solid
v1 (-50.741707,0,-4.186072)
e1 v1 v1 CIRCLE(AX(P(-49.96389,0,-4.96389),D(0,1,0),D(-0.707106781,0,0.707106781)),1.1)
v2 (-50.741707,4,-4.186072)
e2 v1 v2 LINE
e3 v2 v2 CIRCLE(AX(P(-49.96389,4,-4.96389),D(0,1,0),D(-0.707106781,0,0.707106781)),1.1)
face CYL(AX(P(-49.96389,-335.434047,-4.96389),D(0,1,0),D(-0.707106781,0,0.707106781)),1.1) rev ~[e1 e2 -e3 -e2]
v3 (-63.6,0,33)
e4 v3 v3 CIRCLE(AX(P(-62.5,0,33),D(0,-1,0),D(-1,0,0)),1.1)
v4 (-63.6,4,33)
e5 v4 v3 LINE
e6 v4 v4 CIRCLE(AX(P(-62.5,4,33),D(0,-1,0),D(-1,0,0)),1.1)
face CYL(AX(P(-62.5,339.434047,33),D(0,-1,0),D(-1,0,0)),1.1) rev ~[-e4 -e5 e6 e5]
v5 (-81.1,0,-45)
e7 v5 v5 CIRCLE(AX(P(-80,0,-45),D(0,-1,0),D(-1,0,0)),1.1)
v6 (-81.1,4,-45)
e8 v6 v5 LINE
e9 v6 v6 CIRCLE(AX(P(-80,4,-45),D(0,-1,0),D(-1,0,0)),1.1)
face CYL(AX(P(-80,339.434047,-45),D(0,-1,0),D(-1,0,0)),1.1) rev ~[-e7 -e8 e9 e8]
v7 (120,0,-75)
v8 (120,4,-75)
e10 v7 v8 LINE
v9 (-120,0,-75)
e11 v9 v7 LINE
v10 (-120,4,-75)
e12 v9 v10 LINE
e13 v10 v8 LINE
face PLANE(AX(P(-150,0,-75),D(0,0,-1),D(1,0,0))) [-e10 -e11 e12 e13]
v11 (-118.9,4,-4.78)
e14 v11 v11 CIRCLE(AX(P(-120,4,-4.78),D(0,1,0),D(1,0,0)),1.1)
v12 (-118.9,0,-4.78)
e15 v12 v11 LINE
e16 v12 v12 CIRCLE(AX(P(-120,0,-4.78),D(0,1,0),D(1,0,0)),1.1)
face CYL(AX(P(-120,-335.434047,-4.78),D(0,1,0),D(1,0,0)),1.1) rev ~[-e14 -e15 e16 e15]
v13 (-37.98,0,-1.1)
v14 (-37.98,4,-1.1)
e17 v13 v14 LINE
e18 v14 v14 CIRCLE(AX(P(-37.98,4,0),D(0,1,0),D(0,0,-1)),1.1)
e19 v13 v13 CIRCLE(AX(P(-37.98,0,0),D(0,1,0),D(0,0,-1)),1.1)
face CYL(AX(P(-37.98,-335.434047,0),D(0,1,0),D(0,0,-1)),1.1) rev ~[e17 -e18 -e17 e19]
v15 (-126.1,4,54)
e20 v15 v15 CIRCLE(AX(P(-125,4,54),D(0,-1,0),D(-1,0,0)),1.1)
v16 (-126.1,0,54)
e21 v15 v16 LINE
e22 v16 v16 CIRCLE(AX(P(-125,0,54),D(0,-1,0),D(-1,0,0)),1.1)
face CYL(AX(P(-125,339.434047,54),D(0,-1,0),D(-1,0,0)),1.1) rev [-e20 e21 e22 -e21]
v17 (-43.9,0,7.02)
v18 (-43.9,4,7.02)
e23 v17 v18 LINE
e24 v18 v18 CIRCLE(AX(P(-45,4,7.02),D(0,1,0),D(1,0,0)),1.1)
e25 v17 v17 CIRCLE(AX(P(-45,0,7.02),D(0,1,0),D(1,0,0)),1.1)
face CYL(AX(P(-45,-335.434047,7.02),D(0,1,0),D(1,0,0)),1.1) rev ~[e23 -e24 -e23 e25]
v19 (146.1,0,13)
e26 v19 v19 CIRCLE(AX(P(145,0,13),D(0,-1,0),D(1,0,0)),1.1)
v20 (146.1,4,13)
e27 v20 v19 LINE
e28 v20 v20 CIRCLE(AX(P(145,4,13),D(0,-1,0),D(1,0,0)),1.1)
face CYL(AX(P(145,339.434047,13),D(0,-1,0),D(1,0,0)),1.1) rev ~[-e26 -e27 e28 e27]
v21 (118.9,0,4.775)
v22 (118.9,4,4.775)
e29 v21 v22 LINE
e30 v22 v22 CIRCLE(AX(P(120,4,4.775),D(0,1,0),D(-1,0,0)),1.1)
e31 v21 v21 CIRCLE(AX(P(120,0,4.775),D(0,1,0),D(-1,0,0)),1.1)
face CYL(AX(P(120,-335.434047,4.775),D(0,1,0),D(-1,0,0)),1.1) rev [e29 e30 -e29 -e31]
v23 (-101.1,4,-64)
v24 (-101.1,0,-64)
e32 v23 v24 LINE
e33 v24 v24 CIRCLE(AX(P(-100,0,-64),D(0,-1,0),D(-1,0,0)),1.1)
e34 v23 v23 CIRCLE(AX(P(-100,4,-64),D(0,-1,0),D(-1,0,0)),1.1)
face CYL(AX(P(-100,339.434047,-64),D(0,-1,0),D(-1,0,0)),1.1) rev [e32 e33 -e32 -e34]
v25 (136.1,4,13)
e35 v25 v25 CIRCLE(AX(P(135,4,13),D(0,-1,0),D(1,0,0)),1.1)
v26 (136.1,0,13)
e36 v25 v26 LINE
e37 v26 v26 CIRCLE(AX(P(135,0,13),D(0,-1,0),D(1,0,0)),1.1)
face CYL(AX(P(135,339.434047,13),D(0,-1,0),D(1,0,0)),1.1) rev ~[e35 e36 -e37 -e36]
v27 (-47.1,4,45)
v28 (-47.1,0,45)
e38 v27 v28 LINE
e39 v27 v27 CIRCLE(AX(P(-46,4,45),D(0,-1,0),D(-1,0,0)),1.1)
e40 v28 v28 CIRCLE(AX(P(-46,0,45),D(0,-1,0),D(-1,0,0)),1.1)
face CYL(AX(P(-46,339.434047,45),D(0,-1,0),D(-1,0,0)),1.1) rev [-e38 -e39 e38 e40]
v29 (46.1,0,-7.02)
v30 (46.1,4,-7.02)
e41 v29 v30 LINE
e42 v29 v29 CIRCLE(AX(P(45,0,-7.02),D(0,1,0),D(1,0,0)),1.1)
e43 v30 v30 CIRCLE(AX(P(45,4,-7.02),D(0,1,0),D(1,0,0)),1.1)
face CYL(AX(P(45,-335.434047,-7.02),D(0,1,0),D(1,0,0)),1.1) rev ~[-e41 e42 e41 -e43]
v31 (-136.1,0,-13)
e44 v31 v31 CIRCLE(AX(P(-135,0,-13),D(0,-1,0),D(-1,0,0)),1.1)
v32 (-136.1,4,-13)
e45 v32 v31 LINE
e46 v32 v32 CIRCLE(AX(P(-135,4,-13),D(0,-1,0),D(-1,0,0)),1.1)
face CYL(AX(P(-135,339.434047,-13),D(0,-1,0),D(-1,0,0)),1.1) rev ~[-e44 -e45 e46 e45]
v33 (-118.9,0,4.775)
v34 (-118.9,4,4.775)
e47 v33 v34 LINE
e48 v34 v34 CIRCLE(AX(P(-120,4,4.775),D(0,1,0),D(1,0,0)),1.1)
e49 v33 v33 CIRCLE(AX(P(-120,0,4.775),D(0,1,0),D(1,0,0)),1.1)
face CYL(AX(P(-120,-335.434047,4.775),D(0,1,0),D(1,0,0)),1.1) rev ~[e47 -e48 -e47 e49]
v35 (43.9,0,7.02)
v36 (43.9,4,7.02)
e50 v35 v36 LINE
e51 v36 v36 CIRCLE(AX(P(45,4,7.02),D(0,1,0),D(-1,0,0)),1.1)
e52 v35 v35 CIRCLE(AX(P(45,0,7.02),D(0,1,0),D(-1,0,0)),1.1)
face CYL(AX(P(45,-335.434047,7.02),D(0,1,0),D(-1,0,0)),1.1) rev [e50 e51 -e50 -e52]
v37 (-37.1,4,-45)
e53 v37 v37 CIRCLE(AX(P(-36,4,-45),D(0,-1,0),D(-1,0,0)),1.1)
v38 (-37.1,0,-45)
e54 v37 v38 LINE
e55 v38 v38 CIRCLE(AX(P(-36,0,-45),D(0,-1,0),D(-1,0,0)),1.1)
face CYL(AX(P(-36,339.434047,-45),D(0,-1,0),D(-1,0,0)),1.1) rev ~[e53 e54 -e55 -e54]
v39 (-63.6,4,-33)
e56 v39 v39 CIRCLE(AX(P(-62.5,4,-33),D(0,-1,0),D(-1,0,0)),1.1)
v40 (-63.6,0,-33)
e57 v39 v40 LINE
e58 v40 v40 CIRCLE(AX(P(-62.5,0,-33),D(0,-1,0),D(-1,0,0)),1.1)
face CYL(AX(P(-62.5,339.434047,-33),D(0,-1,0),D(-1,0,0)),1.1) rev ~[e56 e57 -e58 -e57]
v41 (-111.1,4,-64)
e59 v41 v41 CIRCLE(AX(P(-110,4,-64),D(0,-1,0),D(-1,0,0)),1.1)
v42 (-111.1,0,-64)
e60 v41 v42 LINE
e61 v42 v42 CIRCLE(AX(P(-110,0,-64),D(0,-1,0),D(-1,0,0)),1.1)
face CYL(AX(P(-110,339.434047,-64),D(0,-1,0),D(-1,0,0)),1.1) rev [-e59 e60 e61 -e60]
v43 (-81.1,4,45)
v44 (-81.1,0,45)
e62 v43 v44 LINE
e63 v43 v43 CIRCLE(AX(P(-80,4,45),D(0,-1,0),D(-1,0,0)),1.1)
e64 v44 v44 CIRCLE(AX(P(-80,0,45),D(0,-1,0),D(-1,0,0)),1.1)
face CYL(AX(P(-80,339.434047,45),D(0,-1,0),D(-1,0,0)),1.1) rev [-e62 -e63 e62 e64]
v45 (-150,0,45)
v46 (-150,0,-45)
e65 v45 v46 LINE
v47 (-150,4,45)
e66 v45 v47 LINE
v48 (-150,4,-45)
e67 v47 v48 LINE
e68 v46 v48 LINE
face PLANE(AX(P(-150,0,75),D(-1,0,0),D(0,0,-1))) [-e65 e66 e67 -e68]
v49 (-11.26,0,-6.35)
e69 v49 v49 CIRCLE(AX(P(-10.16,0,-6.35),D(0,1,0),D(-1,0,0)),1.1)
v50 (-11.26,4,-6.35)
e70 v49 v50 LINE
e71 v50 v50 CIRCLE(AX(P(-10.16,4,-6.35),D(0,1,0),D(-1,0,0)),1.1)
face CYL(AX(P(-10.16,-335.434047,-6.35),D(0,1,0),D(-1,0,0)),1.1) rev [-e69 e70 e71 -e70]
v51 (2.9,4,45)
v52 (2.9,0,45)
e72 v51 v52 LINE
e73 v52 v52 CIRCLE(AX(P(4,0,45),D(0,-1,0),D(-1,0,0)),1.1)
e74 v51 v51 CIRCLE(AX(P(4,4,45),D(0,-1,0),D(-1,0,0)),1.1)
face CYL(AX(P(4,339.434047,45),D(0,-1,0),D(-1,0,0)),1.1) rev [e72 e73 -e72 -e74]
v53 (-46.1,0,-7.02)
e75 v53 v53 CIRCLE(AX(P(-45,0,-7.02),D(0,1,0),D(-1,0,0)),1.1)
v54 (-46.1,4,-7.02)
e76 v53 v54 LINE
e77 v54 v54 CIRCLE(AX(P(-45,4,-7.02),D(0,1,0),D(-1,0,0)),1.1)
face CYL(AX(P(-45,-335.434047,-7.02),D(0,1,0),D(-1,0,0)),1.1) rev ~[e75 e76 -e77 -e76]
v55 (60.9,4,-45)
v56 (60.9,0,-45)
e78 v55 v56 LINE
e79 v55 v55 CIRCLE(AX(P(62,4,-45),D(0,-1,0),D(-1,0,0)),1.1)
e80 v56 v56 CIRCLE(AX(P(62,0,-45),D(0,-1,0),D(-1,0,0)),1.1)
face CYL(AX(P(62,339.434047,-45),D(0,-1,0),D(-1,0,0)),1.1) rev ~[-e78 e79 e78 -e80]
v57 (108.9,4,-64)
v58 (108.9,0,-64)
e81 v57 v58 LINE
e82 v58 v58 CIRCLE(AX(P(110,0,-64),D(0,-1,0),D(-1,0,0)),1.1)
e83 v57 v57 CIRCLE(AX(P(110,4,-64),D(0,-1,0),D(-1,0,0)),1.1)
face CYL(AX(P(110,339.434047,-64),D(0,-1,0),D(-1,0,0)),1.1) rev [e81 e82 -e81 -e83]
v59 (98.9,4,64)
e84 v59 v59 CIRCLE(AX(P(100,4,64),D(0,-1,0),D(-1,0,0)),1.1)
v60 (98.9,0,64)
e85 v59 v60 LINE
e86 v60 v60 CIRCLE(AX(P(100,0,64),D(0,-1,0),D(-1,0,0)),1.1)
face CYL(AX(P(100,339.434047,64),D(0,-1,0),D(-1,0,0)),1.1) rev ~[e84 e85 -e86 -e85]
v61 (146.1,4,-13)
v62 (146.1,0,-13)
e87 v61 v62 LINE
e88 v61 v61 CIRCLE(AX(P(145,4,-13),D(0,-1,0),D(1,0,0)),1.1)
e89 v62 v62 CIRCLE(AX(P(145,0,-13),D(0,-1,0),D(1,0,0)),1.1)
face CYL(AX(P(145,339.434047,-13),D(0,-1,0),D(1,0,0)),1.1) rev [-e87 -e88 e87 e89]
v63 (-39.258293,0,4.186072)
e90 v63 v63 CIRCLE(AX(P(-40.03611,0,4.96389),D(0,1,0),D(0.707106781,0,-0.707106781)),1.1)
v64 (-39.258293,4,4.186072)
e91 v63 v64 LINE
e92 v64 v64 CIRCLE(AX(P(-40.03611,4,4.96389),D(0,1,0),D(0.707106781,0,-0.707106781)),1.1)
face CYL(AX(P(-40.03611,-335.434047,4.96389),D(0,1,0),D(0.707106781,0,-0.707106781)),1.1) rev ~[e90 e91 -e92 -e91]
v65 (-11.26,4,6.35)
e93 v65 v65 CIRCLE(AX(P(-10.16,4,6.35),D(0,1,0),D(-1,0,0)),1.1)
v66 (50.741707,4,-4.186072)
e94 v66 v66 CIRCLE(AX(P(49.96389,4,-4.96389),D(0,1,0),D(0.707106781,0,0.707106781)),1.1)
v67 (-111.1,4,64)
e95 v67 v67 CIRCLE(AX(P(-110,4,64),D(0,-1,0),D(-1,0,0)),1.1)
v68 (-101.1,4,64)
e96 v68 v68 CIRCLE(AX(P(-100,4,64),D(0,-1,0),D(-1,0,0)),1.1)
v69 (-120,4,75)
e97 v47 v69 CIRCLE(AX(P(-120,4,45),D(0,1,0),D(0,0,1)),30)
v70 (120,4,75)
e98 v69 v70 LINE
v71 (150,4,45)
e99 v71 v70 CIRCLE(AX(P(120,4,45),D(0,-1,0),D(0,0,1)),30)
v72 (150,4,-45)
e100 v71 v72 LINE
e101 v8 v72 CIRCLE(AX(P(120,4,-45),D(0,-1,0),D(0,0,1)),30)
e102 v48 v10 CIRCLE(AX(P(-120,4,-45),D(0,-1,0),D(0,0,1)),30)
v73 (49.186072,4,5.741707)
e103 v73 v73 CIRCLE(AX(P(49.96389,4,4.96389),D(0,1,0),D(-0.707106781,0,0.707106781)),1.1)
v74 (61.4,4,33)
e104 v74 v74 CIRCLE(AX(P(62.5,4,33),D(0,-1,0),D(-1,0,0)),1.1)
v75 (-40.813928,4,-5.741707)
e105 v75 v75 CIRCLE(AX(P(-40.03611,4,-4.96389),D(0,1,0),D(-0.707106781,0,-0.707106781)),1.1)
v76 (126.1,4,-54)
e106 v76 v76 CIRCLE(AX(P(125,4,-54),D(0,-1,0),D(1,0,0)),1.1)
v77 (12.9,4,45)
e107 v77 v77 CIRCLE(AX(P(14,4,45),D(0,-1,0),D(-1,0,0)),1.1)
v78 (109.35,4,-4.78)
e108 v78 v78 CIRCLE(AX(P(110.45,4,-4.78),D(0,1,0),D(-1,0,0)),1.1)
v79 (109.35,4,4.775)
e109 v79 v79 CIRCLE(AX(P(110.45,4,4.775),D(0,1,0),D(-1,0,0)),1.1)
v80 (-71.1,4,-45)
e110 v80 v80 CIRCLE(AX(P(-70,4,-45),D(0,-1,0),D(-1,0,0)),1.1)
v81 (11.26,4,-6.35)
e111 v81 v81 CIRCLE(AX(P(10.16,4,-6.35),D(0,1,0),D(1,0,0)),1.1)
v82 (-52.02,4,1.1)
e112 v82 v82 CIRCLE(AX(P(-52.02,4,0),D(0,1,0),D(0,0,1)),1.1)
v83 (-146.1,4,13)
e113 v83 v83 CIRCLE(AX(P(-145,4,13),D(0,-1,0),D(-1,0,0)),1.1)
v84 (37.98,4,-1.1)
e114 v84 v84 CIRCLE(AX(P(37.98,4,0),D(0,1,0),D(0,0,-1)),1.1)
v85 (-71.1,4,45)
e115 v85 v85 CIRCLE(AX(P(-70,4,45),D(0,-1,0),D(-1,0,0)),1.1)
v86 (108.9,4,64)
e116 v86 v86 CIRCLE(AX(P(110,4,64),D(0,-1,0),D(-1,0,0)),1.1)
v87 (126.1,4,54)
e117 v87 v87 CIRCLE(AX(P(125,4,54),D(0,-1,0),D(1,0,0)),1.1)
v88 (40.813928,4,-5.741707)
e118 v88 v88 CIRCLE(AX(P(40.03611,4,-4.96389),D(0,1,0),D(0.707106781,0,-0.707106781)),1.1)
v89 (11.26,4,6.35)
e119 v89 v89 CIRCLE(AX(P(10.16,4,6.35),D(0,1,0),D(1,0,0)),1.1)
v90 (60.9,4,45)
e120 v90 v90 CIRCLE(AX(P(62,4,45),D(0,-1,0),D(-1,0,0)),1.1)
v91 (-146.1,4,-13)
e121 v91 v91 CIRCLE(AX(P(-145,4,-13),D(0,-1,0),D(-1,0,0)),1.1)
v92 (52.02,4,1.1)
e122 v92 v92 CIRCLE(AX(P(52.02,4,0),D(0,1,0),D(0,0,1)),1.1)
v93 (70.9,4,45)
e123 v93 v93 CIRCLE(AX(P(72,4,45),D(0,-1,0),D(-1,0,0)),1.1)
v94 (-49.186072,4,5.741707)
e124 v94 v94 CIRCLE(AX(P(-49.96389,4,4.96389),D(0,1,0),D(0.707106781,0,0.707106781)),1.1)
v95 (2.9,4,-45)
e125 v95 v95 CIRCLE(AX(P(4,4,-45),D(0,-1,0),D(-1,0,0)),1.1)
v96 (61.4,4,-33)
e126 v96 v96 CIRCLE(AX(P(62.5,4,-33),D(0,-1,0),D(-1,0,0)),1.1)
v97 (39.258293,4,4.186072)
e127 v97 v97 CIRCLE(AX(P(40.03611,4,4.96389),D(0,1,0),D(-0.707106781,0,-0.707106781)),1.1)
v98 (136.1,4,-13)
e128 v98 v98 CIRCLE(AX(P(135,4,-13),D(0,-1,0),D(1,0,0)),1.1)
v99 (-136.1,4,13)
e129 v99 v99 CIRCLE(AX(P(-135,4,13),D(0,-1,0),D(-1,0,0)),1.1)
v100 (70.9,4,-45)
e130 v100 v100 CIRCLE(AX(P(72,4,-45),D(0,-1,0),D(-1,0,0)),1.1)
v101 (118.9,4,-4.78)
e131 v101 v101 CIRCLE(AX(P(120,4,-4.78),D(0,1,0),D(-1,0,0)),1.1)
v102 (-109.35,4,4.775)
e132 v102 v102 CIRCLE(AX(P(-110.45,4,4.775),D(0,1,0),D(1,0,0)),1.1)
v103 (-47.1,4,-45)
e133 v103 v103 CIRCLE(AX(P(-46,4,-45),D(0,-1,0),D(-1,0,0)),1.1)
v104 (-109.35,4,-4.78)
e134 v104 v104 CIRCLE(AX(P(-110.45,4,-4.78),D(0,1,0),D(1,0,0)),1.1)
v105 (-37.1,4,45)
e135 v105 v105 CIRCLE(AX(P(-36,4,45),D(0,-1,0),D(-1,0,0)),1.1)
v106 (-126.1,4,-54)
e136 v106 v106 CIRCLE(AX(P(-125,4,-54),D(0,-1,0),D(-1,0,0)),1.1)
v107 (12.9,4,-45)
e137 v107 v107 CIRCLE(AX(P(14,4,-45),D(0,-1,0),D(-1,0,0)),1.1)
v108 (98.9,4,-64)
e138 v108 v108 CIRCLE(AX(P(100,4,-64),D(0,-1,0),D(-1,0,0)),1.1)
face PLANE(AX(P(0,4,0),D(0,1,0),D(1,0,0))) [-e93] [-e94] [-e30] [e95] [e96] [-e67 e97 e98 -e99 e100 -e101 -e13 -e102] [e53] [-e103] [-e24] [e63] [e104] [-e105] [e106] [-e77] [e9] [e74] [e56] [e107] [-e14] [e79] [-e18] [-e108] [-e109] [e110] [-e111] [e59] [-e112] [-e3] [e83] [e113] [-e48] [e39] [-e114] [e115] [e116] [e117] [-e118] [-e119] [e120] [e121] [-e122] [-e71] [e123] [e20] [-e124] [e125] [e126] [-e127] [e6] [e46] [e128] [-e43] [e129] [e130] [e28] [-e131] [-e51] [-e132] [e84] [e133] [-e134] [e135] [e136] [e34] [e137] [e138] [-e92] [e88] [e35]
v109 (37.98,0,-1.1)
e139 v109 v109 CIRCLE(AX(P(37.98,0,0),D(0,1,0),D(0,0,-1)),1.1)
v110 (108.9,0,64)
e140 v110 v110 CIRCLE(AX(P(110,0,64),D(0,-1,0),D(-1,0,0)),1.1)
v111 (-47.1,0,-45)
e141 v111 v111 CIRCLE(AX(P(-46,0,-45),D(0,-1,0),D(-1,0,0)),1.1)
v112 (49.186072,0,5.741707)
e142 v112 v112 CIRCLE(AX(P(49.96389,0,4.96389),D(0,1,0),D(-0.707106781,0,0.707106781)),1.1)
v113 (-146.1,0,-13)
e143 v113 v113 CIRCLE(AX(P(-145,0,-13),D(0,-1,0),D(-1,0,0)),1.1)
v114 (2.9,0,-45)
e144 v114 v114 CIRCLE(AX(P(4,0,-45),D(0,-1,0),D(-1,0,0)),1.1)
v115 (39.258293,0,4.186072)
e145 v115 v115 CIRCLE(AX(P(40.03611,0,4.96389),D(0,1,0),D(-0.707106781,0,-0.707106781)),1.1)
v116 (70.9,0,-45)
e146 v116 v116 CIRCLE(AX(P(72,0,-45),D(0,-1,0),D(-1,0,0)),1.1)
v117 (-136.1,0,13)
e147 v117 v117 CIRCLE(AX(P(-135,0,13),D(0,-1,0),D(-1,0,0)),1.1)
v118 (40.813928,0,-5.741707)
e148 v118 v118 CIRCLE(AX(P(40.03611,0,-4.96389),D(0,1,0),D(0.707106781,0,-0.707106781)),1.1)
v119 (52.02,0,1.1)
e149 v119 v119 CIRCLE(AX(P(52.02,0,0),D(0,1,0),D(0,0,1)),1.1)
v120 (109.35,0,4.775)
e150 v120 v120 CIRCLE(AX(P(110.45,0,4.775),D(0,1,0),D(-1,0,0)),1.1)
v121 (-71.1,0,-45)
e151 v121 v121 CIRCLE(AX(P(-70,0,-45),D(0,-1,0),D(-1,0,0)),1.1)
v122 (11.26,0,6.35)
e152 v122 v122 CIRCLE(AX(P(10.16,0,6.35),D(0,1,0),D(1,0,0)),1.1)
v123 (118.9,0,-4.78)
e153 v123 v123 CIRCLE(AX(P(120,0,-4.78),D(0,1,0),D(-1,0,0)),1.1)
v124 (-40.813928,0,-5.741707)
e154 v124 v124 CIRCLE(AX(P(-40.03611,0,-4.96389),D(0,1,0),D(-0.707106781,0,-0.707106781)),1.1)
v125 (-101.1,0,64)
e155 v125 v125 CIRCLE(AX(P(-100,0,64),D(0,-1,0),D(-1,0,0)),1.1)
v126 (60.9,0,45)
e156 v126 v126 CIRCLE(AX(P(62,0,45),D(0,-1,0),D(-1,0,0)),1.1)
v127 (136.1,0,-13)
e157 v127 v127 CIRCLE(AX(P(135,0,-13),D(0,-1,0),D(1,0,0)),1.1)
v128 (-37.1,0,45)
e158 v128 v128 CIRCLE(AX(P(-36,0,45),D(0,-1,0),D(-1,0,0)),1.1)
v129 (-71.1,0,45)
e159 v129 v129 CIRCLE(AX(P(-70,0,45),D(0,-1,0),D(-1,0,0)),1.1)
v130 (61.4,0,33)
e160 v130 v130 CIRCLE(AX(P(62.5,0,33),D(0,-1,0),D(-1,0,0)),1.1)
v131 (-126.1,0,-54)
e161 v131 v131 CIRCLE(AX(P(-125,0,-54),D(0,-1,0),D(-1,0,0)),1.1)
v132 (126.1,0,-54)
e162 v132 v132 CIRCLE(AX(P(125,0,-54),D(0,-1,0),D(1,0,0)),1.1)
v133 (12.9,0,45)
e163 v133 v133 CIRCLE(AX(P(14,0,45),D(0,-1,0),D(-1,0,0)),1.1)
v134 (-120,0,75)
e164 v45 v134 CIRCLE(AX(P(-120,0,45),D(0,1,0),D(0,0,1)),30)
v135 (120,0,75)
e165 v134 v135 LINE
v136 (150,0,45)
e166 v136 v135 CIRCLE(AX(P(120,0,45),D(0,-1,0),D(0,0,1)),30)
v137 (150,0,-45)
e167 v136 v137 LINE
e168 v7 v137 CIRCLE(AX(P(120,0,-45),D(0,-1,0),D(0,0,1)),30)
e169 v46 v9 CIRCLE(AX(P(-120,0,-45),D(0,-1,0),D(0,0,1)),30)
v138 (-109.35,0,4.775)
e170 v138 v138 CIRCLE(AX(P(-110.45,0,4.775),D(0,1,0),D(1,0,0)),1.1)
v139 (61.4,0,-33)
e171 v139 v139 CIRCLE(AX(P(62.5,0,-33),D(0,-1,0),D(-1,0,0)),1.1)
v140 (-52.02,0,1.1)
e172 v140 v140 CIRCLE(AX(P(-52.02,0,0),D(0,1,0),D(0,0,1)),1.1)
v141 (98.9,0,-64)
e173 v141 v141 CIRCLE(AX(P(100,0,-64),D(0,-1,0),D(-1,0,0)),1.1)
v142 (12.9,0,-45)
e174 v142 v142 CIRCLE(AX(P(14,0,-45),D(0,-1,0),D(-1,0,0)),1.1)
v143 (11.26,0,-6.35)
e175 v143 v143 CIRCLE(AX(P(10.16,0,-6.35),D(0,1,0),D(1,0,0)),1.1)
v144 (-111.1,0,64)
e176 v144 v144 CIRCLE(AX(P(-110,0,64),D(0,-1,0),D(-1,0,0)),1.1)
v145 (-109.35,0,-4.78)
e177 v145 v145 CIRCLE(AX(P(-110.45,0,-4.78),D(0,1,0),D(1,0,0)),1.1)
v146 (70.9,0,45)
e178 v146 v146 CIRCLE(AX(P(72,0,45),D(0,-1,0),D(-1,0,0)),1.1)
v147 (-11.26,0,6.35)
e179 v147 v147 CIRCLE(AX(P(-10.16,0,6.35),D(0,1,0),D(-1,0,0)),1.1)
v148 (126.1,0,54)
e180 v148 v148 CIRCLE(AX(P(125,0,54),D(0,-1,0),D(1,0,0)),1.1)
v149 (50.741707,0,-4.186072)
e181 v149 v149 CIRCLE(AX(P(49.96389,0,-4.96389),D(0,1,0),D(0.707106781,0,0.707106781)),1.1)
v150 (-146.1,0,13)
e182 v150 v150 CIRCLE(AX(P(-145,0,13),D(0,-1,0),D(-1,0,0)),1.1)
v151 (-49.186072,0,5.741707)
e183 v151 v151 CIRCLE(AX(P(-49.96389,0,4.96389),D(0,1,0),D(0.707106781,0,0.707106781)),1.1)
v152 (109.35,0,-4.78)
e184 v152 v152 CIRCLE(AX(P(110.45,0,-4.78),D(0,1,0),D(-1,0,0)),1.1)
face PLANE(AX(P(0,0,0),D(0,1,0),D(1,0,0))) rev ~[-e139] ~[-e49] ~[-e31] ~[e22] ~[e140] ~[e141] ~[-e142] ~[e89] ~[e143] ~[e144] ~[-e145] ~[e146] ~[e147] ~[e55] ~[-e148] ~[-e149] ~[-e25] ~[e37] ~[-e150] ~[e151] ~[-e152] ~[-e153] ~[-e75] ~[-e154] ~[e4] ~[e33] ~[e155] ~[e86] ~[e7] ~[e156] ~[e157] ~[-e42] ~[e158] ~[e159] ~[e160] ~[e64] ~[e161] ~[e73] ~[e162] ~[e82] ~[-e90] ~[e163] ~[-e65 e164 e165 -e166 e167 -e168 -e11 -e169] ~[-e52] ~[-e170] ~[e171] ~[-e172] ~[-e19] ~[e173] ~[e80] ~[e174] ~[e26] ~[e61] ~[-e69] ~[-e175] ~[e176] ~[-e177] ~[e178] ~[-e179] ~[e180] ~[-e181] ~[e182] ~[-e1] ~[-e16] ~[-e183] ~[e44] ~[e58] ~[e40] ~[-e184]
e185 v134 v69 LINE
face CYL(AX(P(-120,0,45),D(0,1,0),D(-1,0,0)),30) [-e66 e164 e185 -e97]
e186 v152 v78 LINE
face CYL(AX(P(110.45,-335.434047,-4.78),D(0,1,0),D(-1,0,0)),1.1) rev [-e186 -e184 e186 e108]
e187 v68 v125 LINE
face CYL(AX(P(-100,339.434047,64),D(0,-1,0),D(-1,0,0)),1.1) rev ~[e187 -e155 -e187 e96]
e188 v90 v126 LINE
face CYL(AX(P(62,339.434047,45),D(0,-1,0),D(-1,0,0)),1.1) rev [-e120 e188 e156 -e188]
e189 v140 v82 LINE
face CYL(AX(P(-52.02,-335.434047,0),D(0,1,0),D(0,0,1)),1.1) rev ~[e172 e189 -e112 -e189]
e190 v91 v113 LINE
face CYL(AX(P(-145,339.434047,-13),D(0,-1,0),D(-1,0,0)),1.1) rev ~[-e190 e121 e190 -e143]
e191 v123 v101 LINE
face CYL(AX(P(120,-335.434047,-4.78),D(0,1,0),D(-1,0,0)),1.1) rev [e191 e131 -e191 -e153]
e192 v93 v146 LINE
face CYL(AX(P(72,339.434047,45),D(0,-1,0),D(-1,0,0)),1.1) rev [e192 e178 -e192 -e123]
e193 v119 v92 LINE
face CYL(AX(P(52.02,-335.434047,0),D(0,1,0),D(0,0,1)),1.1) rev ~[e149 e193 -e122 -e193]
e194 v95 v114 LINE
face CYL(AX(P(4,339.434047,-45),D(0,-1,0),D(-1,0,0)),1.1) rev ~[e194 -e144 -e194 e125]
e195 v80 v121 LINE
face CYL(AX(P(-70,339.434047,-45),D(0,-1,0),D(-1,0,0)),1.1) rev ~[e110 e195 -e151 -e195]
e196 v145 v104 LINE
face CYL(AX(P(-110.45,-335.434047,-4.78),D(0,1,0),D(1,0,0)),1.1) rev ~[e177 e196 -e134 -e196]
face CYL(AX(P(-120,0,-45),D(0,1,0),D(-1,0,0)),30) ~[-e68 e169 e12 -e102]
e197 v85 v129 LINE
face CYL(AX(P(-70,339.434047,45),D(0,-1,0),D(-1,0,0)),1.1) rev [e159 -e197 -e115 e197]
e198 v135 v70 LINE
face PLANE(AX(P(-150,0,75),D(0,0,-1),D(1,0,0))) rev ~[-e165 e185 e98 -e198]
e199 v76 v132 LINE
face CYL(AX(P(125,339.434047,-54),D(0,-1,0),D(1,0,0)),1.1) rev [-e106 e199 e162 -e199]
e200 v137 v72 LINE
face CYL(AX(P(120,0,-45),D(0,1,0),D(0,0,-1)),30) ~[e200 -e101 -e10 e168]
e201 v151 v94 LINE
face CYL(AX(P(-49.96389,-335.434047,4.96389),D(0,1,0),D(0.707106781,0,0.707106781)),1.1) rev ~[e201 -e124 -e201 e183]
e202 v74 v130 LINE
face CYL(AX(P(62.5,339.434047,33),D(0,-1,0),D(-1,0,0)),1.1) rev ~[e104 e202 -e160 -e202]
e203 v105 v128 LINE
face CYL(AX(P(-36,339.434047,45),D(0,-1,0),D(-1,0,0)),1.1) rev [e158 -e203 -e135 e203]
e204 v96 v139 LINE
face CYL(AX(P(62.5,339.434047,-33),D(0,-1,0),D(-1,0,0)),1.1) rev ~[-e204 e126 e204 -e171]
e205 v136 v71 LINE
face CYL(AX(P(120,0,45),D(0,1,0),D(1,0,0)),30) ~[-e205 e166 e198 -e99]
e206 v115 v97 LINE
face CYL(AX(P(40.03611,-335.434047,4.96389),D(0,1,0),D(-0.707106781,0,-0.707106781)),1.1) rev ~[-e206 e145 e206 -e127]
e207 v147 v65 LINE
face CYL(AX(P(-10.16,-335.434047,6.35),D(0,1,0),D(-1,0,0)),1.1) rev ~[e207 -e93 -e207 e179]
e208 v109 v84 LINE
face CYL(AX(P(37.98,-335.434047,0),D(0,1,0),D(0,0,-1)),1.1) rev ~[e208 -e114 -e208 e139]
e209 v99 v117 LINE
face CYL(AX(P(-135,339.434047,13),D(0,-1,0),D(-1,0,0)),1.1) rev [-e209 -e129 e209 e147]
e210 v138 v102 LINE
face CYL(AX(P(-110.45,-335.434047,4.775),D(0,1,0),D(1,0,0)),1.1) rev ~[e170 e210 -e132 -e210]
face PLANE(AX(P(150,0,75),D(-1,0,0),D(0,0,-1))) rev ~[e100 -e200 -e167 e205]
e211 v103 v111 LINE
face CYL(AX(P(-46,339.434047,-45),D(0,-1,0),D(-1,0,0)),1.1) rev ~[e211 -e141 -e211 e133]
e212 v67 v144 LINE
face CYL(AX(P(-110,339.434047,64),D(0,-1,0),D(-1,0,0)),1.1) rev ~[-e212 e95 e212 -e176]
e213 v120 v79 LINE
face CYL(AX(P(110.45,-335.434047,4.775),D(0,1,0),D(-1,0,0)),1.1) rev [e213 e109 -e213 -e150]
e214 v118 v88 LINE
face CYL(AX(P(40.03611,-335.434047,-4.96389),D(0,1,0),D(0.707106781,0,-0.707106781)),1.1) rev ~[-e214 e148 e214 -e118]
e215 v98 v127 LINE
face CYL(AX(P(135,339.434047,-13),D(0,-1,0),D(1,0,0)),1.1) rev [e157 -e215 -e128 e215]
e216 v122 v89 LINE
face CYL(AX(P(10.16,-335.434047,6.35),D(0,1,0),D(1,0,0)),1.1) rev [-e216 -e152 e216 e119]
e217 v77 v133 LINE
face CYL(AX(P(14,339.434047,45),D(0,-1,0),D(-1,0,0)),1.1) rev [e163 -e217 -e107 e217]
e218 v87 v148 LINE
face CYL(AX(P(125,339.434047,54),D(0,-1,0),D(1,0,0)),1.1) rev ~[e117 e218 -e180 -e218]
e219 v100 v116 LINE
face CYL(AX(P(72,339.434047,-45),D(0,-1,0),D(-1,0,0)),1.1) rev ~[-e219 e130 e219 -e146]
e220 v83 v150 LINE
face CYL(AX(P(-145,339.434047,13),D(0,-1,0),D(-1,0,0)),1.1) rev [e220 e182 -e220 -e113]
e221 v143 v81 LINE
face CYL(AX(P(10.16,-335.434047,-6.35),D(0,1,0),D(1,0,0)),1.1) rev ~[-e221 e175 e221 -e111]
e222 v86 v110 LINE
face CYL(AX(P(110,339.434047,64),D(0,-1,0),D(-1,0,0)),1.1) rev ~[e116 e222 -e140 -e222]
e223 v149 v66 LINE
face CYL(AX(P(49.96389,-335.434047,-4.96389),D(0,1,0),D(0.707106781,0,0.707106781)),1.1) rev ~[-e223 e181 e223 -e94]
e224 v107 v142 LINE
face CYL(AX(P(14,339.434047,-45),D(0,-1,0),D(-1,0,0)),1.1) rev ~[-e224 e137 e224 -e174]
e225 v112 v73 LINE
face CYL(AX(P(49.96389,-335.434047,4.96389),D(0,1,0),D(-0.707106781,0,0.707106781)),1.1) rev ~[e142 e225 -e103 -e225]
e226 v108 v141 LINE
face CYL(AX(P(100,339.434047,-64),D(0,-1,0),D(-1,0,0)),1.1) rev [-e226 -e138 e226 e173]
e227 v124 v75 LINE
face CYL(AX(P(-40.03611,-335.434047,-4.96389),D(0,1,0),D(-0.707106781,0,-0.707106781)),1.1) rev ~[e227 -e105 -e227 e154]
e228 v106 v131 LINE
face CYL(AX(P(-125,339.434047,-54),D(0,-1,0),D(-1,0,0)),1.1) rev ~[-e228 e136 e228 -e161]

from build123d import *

# Parameters (mm, degrees)
SKETCH_1_W                            = 300
SKETCH_1_H                            = 150
EXTRUDE_1_DEPTH                       = 4
FILLET_4_R                            = 30
FILLET_5_R                            = 30
FILLET_6_R                            = 30
FILLET_7_R                            = 30
HOLE_WIZARD_2_2_2_2_1_D               = 2.2
PATTERN_CIRCULAR_1_COUNT              = 8
MIRROR_1_COPY_1_D                     = 2.2
MIRROR_1_COPY_2_D                     = 2.2
MIRROR_1_COPY_3_D                     = 2.2
MIRROR_1_COPY_4_D                     = 2.2
MIRROR_1_COPY_5_D                     = 2.2
MIRROR_1_COPY_6_D                     = 2.2
MIRROR_1_COPY_7_D                     = 2.2
HOLE_WIZARD_2_2_2_2_2_D               = 2.2
HOLE_WIZARD_2_2_2_2_4_D               = 2.2
F_2_2_2_2_DIAMETER_HOLE1_D            = 2.2
MIRROR_5_AT_THE_SECOND_PLANE_COPY_1_D = 2.2
HOLE_WIZARD_2_2_2_2_6_D               = 2.2
F_2_2_2_2_DIAMETER_HOLE2_D            = 2.2
MIRROR_6_AT_THE_SECOND_PLANE_COPY_1_D = 2.2
F_2_2_2_2_DIAMETER_HOLE3_D            = 2.2
F_2_2_2_2_DIAMETER_HOLE4_D            = 2.2
MIRROR_8_AT_THE_SECOND_PLANE_COPY_1_D = 2.2


with BuildPart() as part:
    # 草图1 → 凸台-拉伸1 (new body)
    with BuildSketch(Plane(origin=(0, 0, 0), x_dir=(1, 0, 0), z_dir=(0, 1, 0))):
        Rectangle(SKETCH_1_W, SKETCH_1_H)
    extrude(amount=EXTRUDE_1_DEPTH)

    # 圆角4
    fillet_4_edges = [part.edges().sort_by_distance(p)[0] for p in [
        (-150, 2, 75),
    ]]
    fillet(fillet_4_edges, radius=FILLET_4_R)

    # 圆角5
    fillet_5_edges = [part.edges().sort_by_distance(p)[0] for p in [
        (-150, 2, -75),
    ]]
    fillet(fillet_5_edges, radius=FILLET_5_R)

    # 圆角6
    fillet_6_edges = [part.edges().sort_by_distance(p)[0] for p in [
        (150, 2, -75),
    ]]
    fillet(fillet_6_edges, radius=FILLET_6_R)

    # 圆角7
    fillet_7_edges = [part.edges().sort_by_distance(p)[0] for p in [
        (150, 2, 75),
    ]]
    fillet(fillet_7_edges, radius=FILLET_7_R)

    # Ø2.2 (2.2) 直径孔1 (through all)
    with Locations(Plane(origin=(0, 0, 0), x_dir=(-1, 0, 0), z_dir=(0, -1, 0))):
        with Locations((45, -7.02)):
            hole_wizard_2_2_2_2_1 = Hole(HOLE_WIZARD_2_2_2_2_1_D / 2)

    # 阵列(圆周)1: Ø2.2 (2.2) 直径孔1 ×8 about axis
    pattern_circular_1_axis = Axis((-45, 0, 0), (0, 1, 0))
    for i in range(1, PATTERN_CIRCULAR_1_COUNT):
        add(hole_wizard_2_2_2_2_1.rotate(pattern_circular_1_axis, i * 360 / PATTERN_CIRCULAR_1_COUNT), mode=Mode.SUBTRACT)

    # 镜向1: Ø2.2 (2.2) 直径孔1 across plane
    add(hole_wizard_2_2_2_2_1.mirror(Plane(origin=(0, 0, 0), x_dir=(0, 0, 1), z_dir=(1, 0, 0))), mode=Mode.SUBTRACT)

    # 镜向1 copy 1 (through all)
    with Locations(Plane(origin=(13.180194847, 0, -31.819805153), x_dir=(0.7071067811865476, 0, 0.7071067811865475), z_dir=(0, -1, 0))):
        with Locations((45, 7.02)):
            Hole(MIRROR_1_COPY_1_D / 2)

    # 镜向1 copy 2 (through all)
    with Locations(Plane(origin=(45, 0, -45), x_dir=(0, 0, 1), z_dir=(0, -1, 0))):
        with Locations((45, 7.02)):
            Hole(MIRROR_1_COPY_2_D / 2)

    # 镜向1 copy 3 (through all)
    with Locations(Plane(origin=(76.819805153, 0, -31.819805153), x_dir=(-0.7071067811865475, 0, 0.7071067811865476), z_dir=(0, -1, 0))):
        with Locations((45, 7.02)):
            Hole(MIRROR_1_COPY_3_D / 2)

    # 镜向1 copy 4 (through all)
    with Locations(Plane(origin=(90, 0, 0), x_dir=(-1, 0, 0), z_dir=(0, -1, 0))):
        with Locations((45, 7.02)):
            Hole(MIRROR_1_COPY_4_D / 2)

    # 镜向1 copy 5 (through all)
    with Locations(Plane(origin=(76.819805153, 0, 31.819805153), x_dir=(-0.7071067811865477, 0, -0.7071067811865475), z_dir=(0, -1, 0))):
        with Locations((45, 7.02)):
            Hole(MIRROR_1_COPY_5_D / 2)

    # 镜向1 copy 6 (through all)
    with Locations(Plane(origin=(45, 0, 45), x_dir=(0, 0, -1), z_dir=(0, -1, 0))):
        with Locations((45, 7.02)):
            Hole(MIRROR_1_COPY_6_D / 2)

    # 镜向1 copy 7 (through all)
    with Locations(Plane(origin=(13.180194847, 0, 31.819805153), x_dir=(0.7071067811865474, 0, -0.7071067811865477), z_dir=(0, -1, 0))):
        with Locations((45, 7.02)):
            Hole(MIRROR_1_COPY_7_D / 2)

    # Ø2.2 (2.2) 直径孔2 (through all)
    with Locations(Plane(origin=(0, 0, 0), x_dir=(-1, 0, 0), z_dir=(0, -1, 0))):
        with Locations((120, 4.78), (120, -4.775), (110.45, -4.775), (110.45, 4.78)):
            hole_wizard_2_2_2_2_2 = Hole(HOLE_WIZARD_2_2_2_2_2_D / 2)

    # 镜向2: Ø2.2 (2.2) 直径孔2 across plane
    add(hole_wizard_2_2_2_2_2.mirror(Plane(origin=(0, 0, 0), x_dir=(0, 0, 1), z_dir=(1, 0, 0))), mode=Mode.SUBTRACT)

    # Ø2.2 (2.2) 直径孔4 (through all)
    with Locations(Plane(origin=(0, 4, 0), x_dir=(1, 0, 0), z_dir=(0, 1, 0))):
        with Locations((100, -64), (110, -64), (-100, -64), (-110, -64)):
            hole_wizard_2_2_2_2_4 = Hole(HOLE_WIZARD_2_2_2_2_4_D / 2)

    # 镜向4: Ø2.2 (2.2) 直径孔4 across plane
    add(hole_wizard_2_2_2_2_4.mirror(Plane.XY), mode=Mode.SUBTRACT)

    # Ø2.2 (2.2) Diameter Hole1 (through all)
    with Locations(Plane(origin=(0, 4, 0), x_dir=(1, 0, 0), z_dir=(0, 1, 0))):
        with Locations((-125, 54)):
            f_2_2_2_2_diameter_hole1 = Hole(F_2_2_2_2_DIAMETER_HOLE1_D / 2)

    # 镜向5: Ø2.2 (2.2) Diameter Hole1 across plane
    add(f_2_2_2_2_diameter_hole1.mirror(Plane(origin=(0, 0, 0), x_dir=(0, 0, 1), z_dir=(1, 0, 0))), mode=Mode.SUBTRACT)

    # 镜向5 at the second plane: Ø2.2 (2.2) Diameter Hole1 across plane
    add(f_2_2_2_2_diameter_hole1.mirror(Plane.XY), mode=Mode.SUBTRACT)

    # 镜向5 at the second plane copy 1 (through all)
    with Locations(Plane(origin=(0, 4, 0), x_dir=(-1, 0, 0), z_dir=(0, 1, 0))):
        with Locations((-125, 54)):
            Hole(MIRROR_5_AT_THE_SECOND_PLANE_COPY_1_D / 2)

    # Ø2.2 (2.2) 直径孔6 (through all)
    with Locations(Plane(origin=(0, 4, 0), x_dir=(1, 0, 0), z_dir=(0, 1, 0))):
        with Locations((-62.5, 33), (-62.5, -33), (62.5, -33), (62.5, 33)):
            Hole(HOLE_WIZARD_2_2_2_2_6_D / 2)

    # Ø2.2 (2.2) Diameter Hole2 (through all)
    with Locations(Plane(origin=(0, 4, 0), x_dir=(1, 0, 0), z_dir=(0, 1, 0))):
        with Locations((-145, 13), (-135, 13)):
            f_2_2_2_2_diameter_hole2 = Hole(F_2_2_2_2_DIAMETER_HOLE2_D / 2)

    # 镜向6: Ø2.2 (2.2) Diameter Hole2 across plane
    add(f_2_2_2_2_diameter_hole2.mirror(Plane(origin=(0, 0, 0), x_dir=(0, 0, 1), z_dir=(1, 0, 0))), mode=Mode.SUBTRACT)

    # 镜向6 at the second plane: Ø2.2 (2.2) Diameter Hole2 across plane
    add(f_2_2_2_2_diameter_hole2.mirror(Plane.XY), mode=Mode.SUBTRACT)

    # 镜向6 at the second plane copy 1 (through all)
    with Locations(Plane(origin=(0, 4, 0), x_dir=(-1, 0, 0), z_dir=(0, 1, 0))):
        with Locations((-145, 13), (-135, 13)):
            Hole(MIRROR_6_AT_THE_SECOND_PLANE_COPY_1_D / 2)

    # Ø2.2 (2.2) Diameter Hole3 (through all)
    with Locations(Plane(origin=(0, 4, 0), x_dir=(1, 0, 0), z_dir=(0, 1, 0))):
        with Locations((-80, 45), (-70, 45), (-46, 45), (-36, 45), (4, 45), (14, 45), (62, 45), (72, 45)):
            f_2_2_2_2_diameter_hole3 = Hole(F_2_2_2_2_DIAMETER_HOLE3_D / 2)

    # 镜向7: Ø2.2 (2.2) Diameter Hole3 across plane
    add(f_2_2_2_2_diameter_hole3.mirror(Plane.XY), mode=Mode.SUBTRACT)

    # Ø2.2 (2.2) Diameter Hole4 (through all)
    with Locations(Plane.XZ):
        with Locations((-10.16, 6.35)):
            f_2_2_2_2_diameter_hole4 = Hole(F_2_2_2_2_DIAMETER_HOLE4_D / 2)

    # 镜向8: Ø2.2 (2.2) Diameter Hole4 across plane
    add(f_2_2_2_2_diameter_hole4.mirror(Plane.XY), mode=Mode.SUBTRACT)

    # 镜向8 at the second plane: Ø2.2 (2.2) Diameter Hole4 across plane
    add(f_2_2_2_2_diameter_hole4.mirror(Plane(origin=(0, 0, 0), x_dir=(0, 0, 1), z_dir=(1, 0, 0))), mode=Mode.SUBTRACT)

    # 镜向8 at the second plane copy 1 (through all)
    with Locations(Plane(origin=(0, 0, 0), x_dir=(-1, 0, 0), z_dir=(0, -1, 0))):
        with Locations((-10.16, 6.35)):
            Hole(MIRROR_8_AT_THE_SECOND_PLANE_COPY_1_D / 2)


solid = part.part
